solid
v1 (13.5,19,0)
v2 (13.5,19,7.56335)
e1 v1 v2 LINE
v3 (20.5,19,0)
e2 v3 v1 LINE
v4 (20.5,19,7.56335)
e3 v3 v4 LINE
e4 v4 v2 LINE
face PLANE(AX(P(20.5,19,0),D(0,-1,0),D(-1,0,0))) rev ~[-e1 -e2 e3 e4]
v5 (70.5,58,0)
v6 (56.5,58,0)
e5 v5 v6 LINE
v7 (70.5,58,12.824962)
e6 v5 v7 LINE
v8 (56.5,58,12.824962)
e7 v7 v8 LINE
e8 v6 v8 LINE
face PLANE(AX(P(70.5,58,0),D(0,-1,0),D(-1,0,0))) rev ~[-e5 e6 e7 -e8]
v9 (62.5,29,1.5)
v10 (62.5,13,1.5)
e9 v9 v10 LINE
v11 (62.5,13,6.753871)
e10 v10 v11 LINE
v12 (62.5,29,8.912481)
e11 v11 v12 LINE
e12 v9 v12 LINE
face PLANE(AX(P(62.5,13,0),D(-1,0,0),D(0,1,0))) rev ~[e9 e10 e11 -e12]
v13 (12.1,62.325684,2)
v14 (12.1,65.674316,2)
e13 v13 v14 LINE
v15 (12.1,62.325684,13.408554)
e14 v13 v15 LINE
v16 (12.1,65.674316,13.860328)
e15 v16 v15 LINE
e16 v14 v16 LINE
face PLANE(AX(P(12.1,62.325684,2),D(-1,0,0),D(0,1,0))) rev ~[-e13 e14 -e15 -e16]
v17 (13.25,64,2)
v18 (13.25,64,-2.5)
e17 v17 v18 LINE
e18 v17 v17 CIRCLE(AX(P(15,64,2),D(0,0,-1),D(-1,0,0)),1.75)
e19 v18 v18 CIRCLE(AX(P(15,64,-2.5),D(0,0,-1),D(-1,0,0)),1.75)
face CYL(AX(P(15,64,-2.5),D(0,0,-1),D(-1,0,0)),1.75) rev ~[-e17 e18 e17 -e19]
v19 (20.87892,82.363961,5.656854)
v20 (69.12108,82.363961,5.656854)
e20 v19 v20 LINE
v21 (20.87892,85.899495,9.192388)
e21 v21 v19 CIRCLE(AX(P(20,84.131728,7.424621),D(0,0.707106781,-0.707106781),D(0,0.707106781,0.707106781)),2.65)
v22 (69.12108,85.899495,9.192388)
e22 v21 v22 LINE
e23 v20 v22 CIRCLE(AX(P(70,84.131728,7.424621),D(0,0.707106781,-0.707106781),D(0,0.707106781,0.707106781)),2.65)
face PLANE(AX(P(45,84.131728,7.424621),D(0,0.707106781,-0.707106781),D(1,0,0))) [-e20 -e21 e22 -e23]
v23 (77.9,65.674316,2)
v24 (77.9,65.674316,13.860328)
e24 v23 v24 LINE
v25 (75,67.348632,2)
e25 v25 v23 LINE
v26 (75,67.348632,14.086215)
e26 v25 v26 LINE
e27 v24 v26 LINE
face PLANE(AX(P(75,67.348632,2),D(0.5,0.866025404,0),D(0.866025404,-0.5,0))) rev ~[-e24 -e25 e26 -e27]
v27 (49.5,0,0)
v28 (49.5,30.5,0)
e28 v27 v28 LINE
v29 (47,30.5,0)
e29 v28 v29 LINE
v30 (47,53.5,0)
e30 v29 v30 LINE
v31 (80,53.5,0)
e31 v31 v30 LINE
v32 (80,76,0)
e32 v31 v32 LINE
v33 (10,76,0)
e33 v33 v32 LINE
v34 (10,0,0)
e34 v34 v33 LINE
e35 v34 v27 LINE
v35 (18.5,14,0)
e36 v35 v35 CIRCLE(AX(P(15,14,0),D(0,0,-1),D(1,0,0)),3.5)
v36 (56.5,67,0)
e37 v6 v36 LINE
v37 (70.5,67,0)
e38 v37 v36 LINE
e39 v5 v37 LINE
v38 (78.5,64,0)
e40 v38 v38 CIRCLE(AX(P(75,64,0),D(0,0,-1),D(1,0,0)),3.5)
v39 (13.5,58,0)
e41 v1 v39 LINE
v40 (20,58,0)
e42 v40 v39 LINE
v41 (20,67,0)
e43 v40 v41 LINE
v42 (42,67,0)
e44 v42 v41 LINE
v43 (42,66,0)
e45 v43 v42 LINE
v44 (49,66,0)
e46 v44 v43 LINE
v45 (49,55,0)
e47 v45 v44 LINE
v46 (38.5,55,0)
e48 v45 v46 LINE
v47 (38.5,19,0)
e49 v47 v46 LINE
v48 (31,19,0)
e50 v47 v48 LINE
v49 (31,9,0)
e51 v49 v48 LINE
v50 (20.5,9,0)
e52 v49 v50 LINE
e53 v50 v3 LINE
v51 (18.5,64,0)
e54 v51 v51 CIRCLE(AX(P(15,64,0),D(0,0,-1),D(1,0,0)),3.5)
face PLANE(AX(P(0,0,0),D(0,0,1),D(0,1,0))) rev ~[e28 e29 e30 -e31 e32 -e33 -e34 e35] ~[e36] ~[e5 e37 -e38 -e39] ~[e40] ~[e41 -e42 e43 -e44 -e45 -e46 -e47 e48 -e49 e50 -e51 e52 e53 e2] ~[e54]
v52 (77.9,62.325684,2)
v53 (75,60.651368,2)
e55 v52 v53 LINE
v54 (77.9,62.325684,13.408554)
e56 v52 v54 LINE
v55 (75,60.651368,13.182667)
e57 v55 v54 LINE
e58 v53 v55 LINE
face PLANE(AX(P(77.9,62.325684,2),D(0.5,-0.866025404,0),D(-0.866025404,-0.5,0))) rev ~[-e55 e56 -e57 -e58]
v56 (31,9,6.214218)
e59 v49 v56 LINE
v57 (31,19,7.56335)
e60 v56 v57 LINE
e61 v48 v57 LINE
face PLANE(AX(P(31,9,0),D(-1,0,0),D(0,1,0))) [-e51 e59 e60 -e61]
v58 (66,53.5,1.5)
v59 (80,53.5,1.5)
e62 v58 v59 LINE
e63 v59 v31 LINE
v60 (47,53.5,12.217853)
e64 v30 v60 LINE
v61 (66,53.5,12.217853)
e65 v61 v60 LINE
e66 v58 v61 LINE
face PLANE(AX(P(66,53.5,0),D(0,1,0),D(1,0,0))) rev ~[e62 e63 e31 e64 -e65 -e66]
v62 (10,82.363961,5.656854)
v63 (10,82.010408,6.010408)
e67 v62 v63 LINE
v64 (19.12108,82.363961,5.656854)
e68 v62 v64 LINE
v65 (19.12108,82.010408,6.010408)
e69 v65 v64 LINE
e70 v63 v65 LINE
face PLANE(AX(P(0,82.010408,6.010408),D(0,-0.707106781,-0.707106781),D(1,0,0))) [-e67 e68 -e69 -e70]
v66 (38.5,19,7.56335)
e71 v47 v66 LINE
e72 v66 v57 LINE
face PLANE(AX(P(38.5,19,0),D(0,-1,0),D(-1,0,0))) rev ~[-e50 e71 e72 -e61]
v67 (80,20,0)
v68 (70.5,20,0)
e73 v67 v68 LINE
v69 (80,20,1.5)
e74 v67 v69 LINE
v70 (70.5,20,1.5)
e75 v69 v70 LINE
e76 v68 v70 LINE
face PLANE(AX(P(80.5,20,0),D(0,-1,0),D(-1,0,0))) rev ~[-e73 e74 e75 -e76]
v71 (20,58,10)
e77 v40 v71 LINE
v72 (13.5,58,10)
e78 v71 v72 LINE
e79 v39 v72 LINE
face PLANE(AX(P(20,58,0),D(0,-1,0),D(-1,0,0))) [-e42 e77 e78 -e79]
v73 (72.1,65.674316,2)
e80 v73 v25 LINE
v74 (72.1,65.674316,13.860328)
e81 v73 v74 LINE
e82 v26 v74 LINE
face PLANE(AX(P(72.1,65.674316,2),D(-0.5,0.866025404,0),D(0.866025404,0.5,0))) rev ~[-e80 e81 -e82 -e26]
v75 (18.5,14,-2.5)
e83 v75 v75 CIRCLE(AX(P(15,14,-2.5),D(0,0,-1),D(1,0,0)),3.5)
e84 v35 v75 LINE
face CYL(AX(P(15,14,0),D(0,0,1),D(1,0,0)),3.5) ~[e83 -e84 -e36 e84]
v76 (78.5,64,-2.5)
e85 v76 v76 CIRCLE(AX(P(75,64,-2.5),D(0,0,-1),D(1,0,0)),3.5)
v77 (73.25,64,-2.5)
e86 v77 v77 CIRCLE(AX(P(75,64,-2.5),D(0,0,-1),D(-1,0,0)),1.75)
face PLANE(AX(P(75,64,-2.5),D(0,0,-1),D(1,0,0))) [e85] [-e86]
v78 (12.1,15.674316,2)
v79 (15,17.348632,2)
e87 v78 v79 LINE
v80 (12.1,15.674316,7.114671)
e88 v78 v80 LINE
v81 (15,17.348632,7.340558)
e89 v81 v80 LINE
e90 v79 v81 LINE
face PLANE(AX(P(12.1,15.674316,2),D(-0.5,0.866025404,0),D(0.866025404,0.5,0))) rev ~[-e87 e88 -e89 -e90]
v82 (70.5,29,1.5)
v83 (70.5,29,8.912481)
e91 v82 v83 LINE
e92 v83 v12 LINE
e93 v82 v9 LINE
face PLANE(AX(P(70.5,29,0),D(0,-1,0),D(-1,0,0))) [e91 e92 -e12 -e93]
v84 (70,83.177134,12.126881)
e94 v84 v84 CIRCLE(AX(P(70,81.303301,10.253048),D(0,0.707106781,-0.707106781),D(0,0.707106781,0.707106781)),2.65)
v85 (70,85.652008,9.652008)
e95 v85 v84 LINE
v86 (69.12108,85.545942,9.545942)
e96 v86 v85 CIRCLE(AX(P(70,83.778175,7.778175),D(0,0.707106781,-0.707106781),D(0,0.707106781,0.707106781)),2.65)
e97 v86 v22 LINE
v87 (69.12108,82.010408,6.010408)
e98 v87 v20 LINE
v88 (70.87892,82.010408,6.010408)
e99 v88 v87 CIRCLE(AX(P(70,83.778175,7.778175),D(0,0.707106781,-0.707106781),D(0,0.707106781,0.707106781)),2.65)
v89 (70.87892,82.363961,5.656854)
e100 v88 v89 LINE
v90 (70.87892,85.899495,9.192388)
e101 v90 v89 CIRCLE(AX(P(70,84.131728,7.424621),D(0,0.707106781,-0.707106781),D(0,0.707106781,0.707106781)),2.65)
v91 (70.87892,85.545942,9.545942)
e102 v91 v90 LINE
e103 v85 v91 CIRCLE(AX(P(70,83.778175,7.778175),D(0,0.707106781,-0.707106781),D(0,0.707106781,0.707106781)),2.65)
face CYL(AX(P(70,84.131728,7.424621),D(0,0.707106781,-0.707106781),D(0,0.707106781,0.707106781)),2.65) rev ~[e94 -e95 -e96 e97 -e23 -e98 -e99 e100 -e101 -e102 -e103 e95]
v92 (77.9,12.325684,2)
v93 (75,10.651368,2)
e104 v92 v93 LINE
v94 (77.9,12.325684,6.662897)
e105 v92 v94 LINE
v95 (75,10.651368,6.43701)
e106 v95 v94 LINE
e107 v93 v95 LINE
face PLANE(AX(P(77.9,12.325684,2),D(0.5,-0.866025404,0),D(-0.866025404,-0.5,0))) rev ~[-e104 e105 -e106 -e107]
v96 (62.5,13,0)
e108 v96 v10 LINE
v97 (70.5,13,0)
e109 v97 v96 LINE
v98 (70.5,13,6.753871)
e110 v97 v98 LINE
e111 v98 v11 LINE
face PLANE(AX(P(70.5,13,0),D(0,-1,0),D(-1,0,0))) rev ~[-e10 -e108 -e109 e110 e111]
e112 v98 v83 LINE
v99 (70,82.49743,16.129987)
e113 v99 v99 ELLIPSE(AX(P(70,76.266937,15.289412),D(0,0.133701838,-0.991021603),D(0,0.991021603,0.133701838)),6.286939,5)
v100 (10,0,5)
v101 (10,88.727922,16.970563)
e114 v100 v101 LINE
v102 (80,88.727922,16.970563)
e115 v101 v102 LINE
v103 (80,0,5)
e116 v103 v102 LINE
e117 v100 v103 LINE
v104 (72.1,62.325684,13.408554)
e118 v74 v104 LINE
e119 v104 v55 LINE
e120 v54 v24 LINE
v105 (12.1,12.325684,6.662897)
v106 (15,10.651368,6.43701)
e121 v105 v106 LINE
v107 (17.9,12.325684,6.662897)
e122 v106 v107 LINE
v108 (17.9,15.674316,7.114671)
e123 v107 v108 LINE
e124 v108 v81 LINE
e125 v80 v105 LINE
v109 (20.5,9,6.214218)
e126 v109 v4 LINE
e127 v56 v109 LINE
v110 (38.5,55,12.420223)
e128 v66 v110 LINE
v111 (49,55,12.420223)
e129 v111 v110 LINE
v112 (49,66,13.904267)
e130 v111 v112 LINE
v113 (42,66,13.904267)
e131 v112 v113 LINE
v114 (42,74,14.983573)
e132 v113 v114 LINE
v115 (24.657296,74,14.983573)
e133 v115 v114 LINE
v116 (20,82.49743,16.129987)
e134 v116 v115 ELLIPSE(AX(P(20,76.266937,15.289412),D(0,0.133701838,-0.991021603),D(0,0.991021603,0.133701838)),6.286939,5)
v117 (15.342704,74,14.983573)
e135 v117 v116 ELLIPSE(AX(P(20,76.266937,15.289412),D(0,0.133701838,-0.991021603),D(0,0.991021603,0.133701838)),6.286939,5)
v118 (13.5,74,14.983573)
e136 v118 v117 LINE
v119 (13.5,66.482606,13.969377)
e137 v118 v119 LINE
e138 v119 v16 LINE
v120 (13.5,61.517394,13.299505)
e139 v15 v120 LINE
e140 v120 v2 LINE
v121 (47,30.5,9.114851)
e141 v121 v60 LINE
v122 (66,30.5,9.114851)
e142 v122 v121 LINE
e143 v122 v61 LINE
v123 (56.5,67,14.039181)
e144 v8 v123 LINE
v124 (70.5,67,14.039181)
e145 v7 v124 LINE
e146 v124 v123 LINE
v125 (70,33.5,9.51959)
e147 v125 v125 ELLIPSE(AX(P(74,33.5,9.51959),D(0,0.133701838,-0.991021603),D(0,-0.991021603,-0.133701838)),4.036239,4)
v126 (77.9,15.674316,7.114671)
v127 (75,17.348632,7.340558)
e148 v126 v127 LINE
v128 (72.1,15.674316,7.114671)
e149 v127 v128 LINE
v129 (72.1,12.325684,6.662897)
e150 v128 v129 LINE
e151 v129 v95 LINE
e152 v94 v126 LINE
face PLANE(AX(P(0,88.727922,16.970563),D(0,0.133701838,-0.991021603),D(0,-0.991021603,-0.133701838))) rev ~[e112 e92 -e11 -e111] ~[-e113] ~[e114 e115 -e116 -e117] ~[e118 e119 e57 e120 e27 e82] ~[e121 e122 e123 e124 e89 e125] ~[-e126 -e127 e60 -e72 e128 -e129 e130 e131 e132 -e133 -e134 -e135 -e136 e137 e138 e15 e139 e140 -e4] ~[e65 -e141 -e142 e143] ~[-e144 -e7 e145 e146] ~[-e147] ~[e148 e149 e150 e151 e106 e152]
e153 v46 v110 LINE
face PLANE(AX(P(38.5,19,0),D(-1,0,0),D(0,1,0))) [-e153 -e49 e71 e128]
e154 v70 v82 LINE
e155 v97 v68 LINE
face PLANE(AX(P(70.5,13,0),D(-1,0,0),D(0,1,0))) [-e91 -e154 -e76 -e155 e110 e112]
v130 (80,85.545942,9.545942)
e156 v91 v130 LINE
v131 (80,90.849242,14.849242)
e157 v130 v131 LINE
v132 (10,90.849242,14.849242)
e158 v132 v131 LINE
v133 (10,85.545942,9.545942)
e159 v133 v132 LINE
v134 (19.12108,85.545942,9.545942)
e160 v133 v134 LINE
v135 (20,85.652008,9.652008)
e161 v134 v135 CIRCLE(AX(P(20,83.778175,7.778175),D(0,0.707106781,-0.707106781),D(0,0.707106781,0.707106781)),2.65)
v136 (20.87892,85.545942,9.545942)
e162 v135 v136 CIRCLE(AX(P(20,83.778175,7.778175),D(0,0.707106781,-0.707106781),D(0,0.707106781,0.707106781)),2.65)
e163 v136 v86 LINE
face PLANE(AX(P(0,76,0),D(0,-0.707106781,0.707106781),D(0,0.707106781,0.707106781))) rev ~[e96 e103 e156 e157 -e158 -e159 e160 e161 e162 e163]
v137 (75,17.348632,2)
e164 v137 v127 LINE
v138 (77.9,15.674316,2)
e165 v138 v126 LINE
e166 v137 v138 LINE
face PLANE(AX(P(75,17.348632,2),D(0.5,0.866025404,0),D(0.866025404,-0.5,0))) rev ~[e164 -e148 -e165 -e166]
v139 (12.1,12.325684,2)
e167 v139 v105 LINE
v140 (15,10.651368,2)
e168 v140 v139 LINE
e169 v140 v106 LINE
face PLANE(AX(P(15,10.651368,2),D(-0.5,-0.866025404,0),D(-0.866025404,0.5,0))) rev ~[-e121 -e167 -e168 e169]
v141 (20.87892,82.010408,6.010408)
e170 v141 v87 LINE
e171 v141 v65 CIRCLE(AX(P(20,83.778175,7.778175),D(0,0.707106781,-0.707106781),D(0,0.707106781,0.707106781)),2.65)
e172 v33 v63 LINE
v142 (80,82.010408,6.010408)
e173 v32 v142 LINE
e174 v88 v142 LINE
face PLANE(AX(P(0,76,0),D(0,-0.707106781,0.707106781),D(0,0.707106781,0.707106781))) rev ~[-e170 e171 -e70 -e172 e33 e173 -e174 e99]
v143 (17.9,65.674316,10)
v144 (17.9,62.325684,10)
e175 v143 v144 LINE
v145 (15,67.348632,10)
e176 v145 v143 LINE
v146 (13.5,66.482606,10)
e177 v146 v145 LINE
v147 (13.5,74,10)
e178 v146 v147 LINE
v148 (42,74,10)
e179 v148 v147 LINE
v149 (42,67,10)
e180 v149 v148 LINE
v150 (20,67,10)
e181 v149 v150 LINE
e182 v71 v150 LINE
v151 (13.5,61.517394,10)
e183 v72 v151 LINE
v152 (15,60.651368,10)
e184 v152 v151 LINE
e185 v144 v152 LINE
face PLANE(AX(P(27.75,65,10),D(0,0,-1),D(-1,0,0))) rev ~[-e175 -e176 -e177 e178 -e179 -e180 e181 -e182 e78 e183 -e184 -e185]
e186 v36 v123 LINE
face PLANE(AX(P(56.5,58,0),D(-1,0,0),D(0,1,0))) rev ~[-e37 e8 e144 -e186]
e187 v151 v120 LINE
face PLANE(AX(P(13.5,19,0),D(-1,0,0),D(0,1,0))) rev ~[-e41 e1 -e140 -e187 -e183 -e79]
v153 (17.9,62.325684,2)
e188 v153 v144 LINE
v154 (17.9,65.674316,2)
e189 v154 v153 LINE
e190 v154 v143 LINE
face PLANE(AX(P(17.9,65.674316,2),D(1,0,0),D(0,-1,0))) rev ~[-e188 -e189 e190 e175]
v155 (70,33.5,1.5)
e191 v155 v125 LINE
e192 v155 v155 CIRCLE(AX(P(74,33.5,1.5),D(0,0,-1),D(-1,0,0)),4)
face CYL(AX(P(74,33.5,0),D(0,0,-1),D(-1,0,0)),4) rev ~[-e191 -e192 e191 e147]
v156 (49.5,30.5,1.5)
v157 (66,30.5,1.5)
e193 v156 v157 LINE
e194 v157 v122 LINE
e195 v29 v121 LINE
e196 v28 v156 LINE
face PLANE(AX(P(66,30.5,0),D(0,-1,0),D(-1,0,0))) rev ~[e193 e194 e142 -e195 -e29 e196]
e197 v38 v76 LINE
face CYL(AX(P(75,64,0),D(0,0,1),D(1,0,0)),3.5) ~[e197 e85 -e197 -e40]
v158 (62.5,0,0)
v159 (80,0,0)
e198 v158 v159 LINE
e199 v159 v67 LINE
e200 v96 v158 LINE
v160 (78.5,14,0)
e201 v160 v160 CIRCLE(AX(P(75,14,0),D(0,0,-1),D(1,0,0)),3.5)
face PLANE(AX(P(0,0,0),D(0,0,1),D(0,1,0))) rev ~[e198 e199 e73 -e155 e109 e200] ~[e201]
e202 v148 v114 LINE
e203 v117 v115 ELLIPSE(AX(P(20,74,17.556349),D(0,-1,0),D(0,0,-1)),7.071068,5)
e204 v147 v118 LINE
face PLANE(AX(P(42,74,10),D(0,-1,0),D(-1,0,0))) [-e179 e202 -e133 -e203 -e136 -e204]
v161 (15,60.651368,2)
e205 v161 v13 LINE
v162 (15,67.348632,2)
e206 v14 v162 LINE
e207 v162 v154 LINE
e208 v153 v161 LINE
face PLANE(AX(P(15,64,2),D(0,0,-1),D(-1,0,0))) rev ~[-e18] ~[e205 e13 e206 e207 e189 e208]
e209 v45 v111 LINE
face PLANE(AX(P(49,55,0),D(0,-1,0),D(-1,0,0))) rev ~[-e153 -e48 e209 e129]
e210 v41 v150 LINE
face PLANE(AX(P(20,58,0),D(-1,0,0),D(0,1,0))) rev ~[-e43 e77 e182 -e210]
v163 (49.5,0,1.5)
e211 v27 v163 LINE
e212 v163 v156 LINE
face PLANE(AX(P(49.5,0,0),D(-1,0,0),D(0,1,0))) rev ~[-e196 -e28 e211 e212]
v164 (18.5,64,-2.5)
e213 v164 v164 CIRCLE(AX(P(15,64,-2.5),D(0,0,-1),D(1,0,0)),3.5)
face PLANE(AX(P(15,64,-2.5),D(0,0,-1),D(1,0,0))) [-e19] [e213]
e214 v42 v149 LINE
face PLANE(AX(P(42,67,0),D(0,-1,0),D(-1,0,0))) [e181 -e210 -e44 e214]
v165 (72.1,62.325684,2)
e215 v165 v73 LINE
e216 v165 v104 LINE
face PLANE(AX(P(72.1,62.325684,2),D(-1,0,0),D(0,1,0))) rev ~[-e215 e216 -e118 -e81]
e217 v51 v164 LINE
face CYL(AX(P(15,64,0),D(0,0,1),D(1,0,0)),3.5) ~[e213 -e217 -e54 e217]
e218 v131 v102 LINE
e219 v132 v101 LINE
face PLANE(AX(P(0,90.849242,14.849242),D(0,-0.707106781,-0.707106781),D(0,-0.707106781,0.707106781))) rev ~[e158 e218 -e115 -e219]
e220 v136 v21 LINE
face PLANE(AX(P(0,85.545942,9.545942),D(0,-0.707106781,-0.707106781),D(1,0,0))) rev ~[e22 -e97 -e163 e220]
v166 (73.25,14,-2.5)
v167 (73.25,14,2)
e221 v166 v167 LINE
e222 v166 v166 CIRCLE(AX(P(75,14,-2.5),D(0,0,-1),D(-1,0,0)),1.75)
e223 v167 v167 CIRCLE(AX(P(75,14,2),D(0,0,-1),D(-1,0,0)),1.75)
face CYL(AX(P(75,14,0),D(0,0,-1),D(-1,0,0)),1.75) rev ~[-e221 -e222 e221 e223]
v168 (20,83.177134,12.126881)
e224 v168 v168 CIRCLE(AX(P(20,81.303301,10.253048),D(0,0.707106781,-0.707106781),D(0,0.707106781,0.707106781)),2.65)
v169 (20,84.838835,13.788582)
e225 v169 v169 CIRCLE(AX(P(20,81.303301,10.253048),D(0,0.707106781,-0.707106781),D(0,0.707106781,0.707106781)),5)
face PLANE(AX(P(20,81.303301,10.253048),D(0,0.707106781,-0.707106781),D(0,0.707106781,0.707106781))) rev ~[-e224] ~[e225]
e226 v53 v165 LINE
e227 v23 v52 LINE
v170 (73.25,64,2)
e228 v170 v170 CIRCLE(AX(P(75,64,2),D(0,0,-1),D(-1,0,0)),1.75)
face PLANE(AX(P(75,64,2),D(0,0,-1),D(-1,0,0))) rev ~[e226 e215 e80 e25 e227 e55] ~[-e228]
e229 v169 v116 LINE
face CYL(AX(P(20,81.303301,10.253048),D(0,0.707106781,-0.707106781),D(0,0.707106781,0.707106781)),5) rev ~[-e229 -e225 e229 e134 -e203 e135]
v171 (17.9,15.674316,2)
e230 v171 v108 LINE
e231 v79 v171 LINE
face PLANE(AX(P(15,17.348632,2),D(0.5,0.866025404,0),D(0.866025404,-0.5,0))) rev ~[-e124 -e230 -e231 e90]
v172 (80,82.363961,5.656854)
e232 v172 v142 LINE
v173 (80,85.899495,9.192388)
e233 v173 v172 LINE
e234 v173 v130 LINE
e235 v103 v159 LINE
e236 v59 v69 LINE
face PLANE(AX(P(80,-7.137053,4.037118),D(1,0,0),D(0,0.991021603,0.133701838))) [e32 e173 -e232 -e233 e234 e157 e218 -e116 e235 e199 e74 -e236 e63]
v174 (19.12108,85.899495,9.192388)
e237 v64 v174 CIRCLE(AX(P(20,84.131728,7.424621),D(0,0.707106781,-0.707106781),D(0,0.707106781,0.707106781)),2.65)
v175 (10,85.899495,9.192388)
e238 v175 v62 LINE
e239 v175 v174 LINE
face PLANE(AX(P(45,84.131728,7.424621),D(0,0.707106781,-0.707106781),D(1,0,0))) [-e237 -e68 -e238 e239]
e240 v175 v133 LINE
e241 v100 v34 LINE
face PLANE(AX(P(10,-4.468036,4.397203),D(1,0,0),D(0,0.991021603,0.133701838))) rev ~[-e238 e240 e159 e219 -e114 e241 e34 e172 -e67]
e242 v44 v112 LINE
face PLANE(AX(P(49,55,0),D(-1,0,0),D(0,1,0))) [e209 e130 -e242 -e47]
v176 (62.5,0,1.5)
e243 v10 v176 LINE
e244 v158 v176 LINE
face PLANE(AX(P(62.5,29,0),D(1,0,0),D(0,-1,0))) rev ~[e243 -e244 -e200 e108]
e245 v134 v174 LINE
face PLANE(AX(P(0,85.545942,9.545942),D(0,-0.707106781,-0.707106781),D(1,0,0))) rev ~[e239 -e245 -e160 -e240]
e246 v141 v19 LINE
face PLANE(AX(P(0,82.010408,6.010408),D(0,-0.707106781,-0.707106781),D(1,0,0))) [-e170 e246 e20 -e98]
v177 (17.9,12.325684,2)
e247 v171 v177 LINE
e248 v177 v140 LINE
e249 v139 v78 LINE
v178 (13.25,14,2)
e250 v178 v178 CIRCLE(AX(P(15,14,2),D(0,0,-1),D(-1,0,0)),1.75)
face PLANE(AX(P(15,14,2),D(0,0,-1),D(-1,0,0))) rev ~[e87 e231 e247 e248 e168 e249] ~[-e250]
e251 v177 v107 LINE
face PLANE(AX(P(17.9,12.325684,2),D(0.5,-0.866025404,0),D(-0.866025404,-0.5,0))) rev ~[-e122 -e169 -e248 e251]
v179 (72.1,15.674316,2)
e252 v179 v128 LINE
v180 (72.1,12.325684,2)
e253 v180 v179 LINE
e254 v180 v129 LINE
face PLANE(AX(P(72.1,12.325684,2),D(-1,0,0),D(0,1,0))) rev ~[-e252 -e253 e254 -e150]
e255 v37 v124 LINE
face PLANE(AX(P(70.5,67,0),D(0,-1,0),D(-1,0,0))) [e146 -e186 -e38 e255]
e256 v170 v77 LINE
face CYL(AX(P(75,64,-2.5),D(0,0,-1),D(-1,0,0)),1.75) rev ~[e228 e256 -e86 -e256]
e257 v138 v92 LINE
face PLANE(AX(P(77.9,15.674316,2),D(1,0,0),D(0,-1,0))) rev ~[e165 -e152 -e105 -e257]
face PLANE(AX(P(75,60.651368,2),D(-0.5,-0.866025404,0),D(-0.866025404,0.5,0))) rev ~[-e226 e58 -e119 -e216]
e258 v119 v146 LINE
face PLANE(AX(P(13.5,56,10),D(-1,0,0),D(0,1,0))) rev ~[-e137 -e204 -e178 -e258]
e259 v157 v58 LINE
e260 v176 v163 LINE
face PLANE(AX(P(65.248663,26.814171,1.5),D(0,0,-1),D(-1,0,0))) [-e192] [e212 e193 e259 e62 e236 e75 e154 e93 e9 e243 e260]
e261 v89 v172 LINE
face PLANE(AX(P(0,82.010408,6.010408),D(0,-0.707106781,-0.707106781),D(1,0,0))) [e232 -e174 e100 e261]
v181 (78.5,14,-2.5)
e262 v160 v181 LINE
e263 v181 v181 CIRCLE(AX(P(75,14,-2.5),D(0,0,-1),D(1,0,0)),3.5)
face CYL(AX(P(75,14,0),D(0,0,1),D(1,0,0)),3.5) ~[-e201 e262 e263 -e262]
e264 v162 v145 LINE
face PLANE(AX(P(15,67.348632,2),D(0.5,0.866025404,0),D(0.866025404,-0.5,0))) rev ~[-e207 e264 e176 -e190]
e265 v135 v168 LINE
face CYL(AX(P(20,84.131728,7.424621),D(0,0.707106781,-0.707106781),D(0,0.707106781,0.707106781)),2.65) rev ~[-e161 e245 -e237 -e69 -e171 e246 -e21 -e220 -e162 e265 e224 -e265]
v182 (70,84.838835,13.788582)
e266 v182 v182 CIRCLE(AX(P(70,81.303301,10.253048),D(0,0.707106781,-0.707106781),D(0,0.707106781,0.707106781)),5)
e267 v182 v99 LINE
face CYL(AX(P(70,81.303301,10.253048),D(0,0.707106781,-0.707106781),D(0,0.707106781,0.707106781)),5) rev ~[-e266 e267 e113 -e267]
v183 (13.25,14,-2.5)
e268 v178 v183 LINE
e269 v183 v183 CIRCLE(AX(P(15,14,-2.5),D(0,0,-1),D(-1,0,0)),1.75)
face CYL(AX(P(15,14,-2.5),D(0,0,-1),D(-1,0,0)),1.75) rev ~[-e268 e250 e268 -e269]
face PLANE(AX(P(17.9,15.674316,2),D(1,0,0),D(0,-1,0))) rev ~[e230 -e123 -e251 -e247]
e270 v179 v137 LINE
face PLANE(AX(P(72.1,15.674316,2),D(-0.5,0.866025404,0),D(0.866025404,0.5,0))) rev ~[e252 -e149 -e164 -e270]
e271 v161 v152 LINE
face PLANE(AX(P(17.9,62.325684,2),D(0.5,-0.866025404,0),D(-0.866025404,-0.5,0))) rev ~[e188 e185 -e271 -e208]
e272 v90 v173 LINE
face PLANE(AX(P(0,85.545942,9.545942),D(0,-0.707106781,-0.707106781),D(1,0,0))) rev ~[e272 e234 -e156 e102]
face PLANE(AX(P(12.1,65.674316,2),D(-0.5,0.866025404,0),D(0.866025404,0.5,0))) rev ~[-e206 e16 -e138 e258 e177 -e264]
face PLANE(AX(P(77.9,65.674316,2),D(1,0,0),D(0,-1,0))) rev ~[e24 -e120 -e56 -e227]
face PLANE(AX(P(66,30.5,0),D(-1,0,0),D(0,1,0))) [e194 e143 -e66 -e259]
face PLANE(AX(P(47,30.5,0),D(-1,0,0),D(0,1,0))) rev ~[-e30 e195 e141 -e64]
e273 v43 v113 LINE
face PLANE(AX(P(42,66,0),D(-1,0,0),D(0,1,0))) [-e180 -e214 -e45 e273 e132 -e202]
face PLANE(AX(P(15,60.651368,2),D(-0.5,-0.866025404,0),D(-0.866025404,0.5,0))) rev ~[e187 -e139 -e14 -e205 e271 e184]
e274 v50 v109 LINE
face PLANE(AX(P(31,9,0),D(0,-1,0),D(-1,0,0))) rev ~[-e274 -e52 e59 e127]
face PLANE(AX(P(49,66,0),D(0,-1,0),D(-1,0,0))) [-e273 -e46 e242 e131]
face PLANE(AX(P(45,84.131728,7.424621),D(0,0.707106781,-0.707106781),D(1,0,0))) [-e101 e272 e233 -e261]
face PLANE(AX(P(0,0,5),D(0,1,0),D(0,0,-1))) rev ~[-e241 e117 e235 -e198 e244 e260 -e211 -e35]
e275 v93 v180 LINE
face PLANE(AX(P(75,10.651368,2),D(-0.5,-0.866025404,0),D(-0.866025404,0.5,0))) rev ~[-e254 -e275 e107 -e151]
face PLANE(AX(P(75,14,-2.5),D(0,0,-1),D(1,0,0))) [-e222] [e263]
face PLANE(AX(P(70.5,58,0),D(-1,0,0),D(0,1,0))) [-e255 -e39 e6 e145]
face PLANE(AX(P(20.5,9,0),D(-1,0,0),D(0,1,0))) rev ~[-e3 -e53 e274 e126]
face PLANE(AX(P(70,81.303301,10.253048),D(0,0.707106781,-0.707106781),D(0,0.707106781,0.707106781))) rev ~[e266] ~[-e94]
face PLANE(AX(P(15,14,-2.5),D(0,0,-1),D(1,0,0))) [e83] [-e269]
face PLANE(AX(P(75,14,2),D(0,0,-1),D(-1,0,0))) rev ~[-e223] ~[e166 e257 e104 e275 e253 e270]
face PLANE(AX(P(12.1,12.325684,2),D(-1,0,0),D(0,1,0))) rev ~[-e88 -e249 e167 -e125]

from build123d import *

# Parameters (mm, degrees)
EXTRUDE_1_DEPTH     = 90
SKETCH_2_R          = 1.75
CUT_EXTRUDE_1_DEPTH = 130.002266823
SKETCH_3_R          = 4
SKETCH_3_W          = 25
SKETCH_3_H          = 39
SKETCH_3_W_2        = 10.5
SKETCH_3_H_2        = 10
SKETCH_3_W_3        = 22
SKETCH_3_H_3        = 11
SKETCH_3_W_4        = 11
SKETCH_3_W_5        = 14
SKETCH_3_H_4        = 9
SKETCH_3_W_6        = 9.5
SKETCH_3_H_5        = 42
SKETCH_3_W_7        = 8
SKETCH_3_H_6        = 16
SKETCH_3_W_8        = 19
SKETCH_3_H_7        = 23
CUT_EXTRUDE_2_DEPTH = 130.002266823
CUT_EXTRUDE_3_REACH = 133.002
CUT_EXTRUDE_START   = -2
CUT_EXTRUDE_4_DEPTH = 1.5
SKETCH_6_W          = 90
SKETCH_6_H          = 5
EXTRUDE_2_DEPTH     = 0.5
SKETCH_7_R          = 2.65
CUT_EXTRUDE_5_DEPTH = 118.968449984
CUT_EXTRUDE_6_REACH = 123.968
CUT_EXTRUDE_START_2 = -4
SKETCH_8_R          = 5
SKETCH_9_R          = 3.5
EXTRUDE_3_DEPTH     = 2.5
SKETCH_10_R         = 1.75
CUT_EXTRUDE_7_DEPTH = 130.354890357
CUT_EXTRUDE_8_REACH = 141.002
CUT_EXTRUDE_START_3 = -10
SKETCH_11_W         = 28.5
SKETCH_11_H         = 18
SKETCH_12_W         = 10
SKETCH_12_H         = 98.345155262
SKETCH_12_H_2       = 101.038352977
CUT_EXTRUDE_9_DEPTH = 129.917968218


with BuildPart() as part:
    # 草图1 → 凸台-拉伸1 (new body)
    with BuildSketch(Plane(origin=(0, 0, 0), x_dir=(0, 0, -1), z_dir=(1, 0, 0))):
        Polygon((0, 0), (0, 76), (-14.849242405, 90.849242405), (-16.970562748, 88.727922061), (-5, 0), align=None)
    extrude(amount=EXTRUDE_1_DEPTH)

    # 草图2 → 切除-拉伸1 (cut, through all)
    with BuildSketch(Plane(origin=(0, 0, 0), x_dir=(-1, 0, 0), z_dir=(0, 0, -1))):
        with Locations((-75, 64)):
            Circle(SKETCH_2_R)
        with Locations((-15, 64)):
            Circle(SKETCH_2_R)
        with Locations((-15, 14)):
            Circle(SKETCH_2_R)
        with Locations((-75, 14)):
            Circle(SKETCH_2_R)
    extrude(amount=-CUT_EXTRUDE_1_DEPTH, mode=Mode.SUBTRACT)

    # 草图3 → 切除-拉伸2 (cut, through all)
    with BuildSketch(Plane(origin=(0, 0, 0), x_dir=(-1, 0, 0), z_dir=(0, 0, -1))):
        with Locations((-74, 33.5)):
            Circle(SKETCH_3_R)
        with Locations((-26, 38.5)):
            Rectangle(SKETCH_3_W, SKETCH_3_H)
        with Locations((-25.75, 14)):
            Rectangle(SKETCH_3_W_2, SKETCH_3_H_2)
        with Locations((-31, 61.5)):
            Rectangle(SKETCH_3_W_3, SKETCH_3_H_3)
        with Locations((-43.5, 60.5)):
            Rectangle(SKETCH_3_W_4, SKETCH_3_H_3)
        with Locations((-63.5, 62.5)):
            Rectangle(SKETCH_3_W_5, SKETCH_3_H_4)
        with Locations((-85.25, 34)):
            Rectangle(SKETCH_3_W_6, SKETCH_3_H_5)
        with Locations((-66.5, 21)):
            Rectangle(SKETCH_3_W_7, SKETCH_3_H_6)
        with Locations((-56.5, 42)):
            Rectangle(SKETCH_3_W_8, SKETCH_3_H_7)
    extrude(amount=-CUT_EXTRUDE_2_DEPTH, mode=Mode.SUBTRACT)

    # 切除-拉伸3: up to this plane
    cut_extrude_3_end = Plane(origin=(90, 88.727922061, 16.970562748), z_dir=(0, 0.13370183830700452, -0.9910216034140364))
    # 草图4 → 切除-拉伸3 (cut, up to the surface)
    with BuildSketch(Plane(origin=(0, 0, 0), x_dir=(-1, 0, 0), z_dir=(0, 0, -1)).offset(CUT_EXTRUDE_START), mode=Mode.PRIVATE) as cut_extrude_3_sk1:
        Polygon((-75, 60.651368439), (-72.1, 62.325684219), (-72.1, 65.674315781), (-75, 67.348631561), (-77.9, 65.674315781), (-77.9, 62.325684219), align=None)
    cut_extrude_3_tool1 = split(extrude(cut_extrude_3_sk1.sketch, amount=-CUT_EXTRUDE_3_REACH, mode=Mode.PRIVATE), bisect_by=cut_extrude_3_end, keep=Keep.BOTH, mode=Mode.PRIVATE)
    add(cut_extrude_3_tool1.solids().sort_by_distance((75, 64, 2))[0], mode=Mode.SUBTRACT)
    # 草图4 → 切除-拉伸3 (cut, up to the surface)
    with BuildSketch(Plane(origin=(0, 0, 0), x_dir=(-1, 0, 0), z_dir=(0, 0, -1)).offset(CUT_EXTRUDE_START), mode=Mode.PRIVATE) as cut_extrude_3_sk2:
        Polygon((-15, 60.651368439), (-12.1, 62.325684219), (-12.1, 65.674315781), (-15, 67.348631561), (-17.9, 65.674315781), (-17.9, 62.325684219), align=None)
    cut_extrude_3_tool2 = split(extrude(cut_extrude_3_sk2.sketch, amount=-CUT_EXTRUDE_3_REACH, mode=Mode.PRIVATE), bisect_by=cut_extrude_3_end, keep=Keep.BOTH, mode=Mode.PRIVATE)
    add(cut_extrude_3_tool2.solids().sort_by_distance((15, 64, 2))[0], mode=Mode.SUBTRACT)
    # 草图4 → 切除-拉伸3 (cut, up to the surface)
    with BuildSketch(Plane(origin=(0, 0, 0), x_dir=(-1, 0, 0), z_dir=(0, 0, -1)).offset(CUT_EXTRUDE_START), mode=Mode.PRIVATE) as cut_extrude_3_sk3:
        Polygon((-15, 10.651368439), (-12.1, 12.325684219), (-12.1, 15.674315781), (-15, 17.348631561), (-17.9, 15.674315781), (-17.9, 12.325684219), align=None)
    cut_extrude_3_tool3 = split(extrude(cut_extrude_3_sk3.sketch, amount=-CUT_EXTRUDE_3_REACH, mode=Mode.PRIVATE), bisect_by=cut_extrude_3_end, keep=Keep.BOTH, mode=Mode.PRIVATE)
    add(cut_extrude_3_tool3.solids().sort_by_distance((15, 14, 2))[0], mode=Mode.SUBTRACT)
    # 草图4 → 切除-拉伸3 (cut, up to the surface)
    with BuildSketch(Plane(origin=(0, 0, 0), x_dir=(-1, 0, 0), z_dir=(0, 0, -1)).offset(CUT_EXTRUDE_START), mode=Mode.PRIVATE) as cut_extrude_3_sk4:
        Polygon((-75, 10.651368439), (-72.1, 12.325684219), (-72.1, 15.674315781), (-75, 17.348631561), (-77.9, 15.674315781), (-77.9, 12.325684219), align=None)
    cut_extrude_3_tool4 = split(extrude(cut_extrude_3_sk4.sketch, amount=-CUT_EXTRUDE_3_REACH, mode=Mode.PRIVATE), bisect_by=cut_extrude_3_end, keep=Keep.BOTH, mode=Mode.PRIVATE)
    add(cut_extrude_3_tool4.solids().sort_by_distance((75, 14, 2))[0], mode=Mode.SUBTRACT)

    # 草图5 → 切除-拉伸4 (cut)
    with BuildSketch(Plane(origin=(0, 0, 0), x_dir=(-1, 0, 0), z_dir=(0, 0, -1))):
        Polygon((-70.5, 20), (-70.5, 29), (-62.5, 29), (-62.5, 0), (-49.5, 0), (-49.5, 30.5), (-66, 30.5), (-66, 53.5), (-80.5, 53.5), (-80.5, 20), align=None)
    extrude(amount=-CUT_EXTRUDE_4_DEPTH, mode=Mode.SUBTRACT)

    # 草图6 → 凸台-拉伸2 (add)
    with BuildSketch(Plane(origin=(0, 38, -38), x_dir=(1, 0, 0), z_dir=(0, 0.7071067811865482, -0.7071067811865468))):
        with Locations((45, -64.74011537)):
            Rectangle(SKETCH_6_W, SKETCH_6_H)
    extrude(amount=EXTRUDE_2_DEPTH)

    # 草图7 → 切除-拉伸5 (cut, through all)
    with BuildSketch(Plane(origin=(0, 38.353553391, -38.353553391), x_dir=(1, 0, 0), z_dir=(0, 0.7071067811865489, -0.7071067811865461))):
        with Locations(Location((20, -64.74011537, 0), (0, 0, 270))):
            Circle(SKETCH_7_R)
        with Locations(Location((70, -64.74011537, 0), (0, 0, 270))):
            Circle(SKETCH_7_R)
    extrude(amount=-CUT_EXTRUDE_5_DEPTH, mode=Mode.SUBTRACT)

    # 切除-拉伸6: up to this plane
    cut_extrude_6_end = Plane(origin=(90, 88.727922061, 16.970562748), z_dir=(0, 0.13370183830700452, -0.9910216034140364))
    # 草图8 → 切除-拉伸6 (cut, up to the surface)
    with BuildSketch(Plane(origin=(0, 38.353553391, -38.353553391), x_dir=(1, 0, 0), z_dir=(0, 0.7071067811865489, -0.7071067811865461)).offset(CUT_EXTRUDE_START_2), mode=Mode.PRIVATE) as cut_extrude_6_sk1:
        with Locations(Location((20, -64.74011537, 0), (0, 0, 270))):
            Circle(SKETCH_8_R)
    cut_extrude_6_tool1 = split(extrude(cut_extrude_6_sk1.sketch, amount=-CUT_EXTRUDE_6_REACH, mode=Mode.PRIVATE), bisect_by=cut_extrude_6_end, keep=Keep.BOTH, mode=Mode.PRIVATE)
    add(cut_extrude_6_tool1.solids().sort_by_distance((20, 81.303301, 10.253048))[0], mode=Mode.SUBTRACT)
    # 草图8 → 切除-拉伸6 (cut, up to the surface)
    with BuildSketch(Plane(origin=(0, 38.353553391, -38.353553391), x_dir=(1, 0, 0), z_dir=(0, 0.7071067811865489, -0.7071067811865461)).offset(CUT_EXTRUDE_START_2), mode=Mode.PRIVATE) as cut_extrude_6_sk2:
        with Locations(Location((70, -64.74011537, 0), (0, 0, 270))):
            Circle(SKETCH_8_R)
    cut_extrude_6_tool2 = split(extrude(cut_extrude_6_sk2.sketch, amount=-CUT_EXTRUDE_6_REACH, mode=Mode.PRIVATE), bisect_by=cut_extrude_6_end, keep=Keep.BOTH, mode=Mode.PRIVATE)
    add(cut_extrude_6_tool2.solids().sort_by_distance((70, 81.303301, 10.253048))[0], mode=Mode.SUBTRACT)

    # 草图9 → 凸台-拉伸3 (add)
    with BuildSketch(Plane(origin=(0, 0, 0), x_dir=(-1, 0, 0), z_dir=(0, 0, -1))):
        with Locations(Location((-75, 64, 0), (0, 0, 180))):
            Circle(SKETCH_9_R)
        with Locations(Location((-15, 64, 0), (0, 0, 180))):
            Circle(SKETCH_9_R)
        with Locations(Location((-15, 14, 0), (0, 0, 180))):
            Circle(SKETCH_9_R)
        with Locations(Location((-75, 14, 0), (0, 0, 180))):
            Circle(SKETCH_9_R)
    extrude(amount=EXTRUDE_3_DEPTH)

    # 草图10 → 切除-拉伸7 (cut, through all)
    with BuildSketch(Plane(origin=(0, 0, -2.5), x_dir=(-1, 0, 0), z_dir=(0, 0, -1))):
        with Locations((-75, 14)):
            Circle(SKETCH_10_R)
        with Locations((-15, 14)):
            Circle(SKETCH_10_R)
        with Locations((-15, 64)):
            Circle(SKETCH_10_R)
        with Locations((-75, 64)):
            Circle(SKETCH_10_R)
    extrude(amount=-CUT_EXTRUDE_7_DEPTH, mode=Mode.SUBTRACT)

    # 草图11 → 切除-拉伸8 (cut, up to next)
    with BuildSketch(Plane(origin=(0, 0, 0), x_dir=(-1, 0, 0), z_dir=(0, 0, -1)).offset(CUT_EXTRUDE_START_3), mode=Mode.PRIVATE) as cut_extrude_8_sk1:
        with Locations((-27.75, 65)):
            Rectangle(SKETCH_11_W, SKETCH_11_H)
    cut_extrude_8_tool1 = extrude(cut_extrude_8_sk1.sketch, amount=-CUT_EXTRUDE_8_REACH, mode=Mode.PRIVATE) & part.part
    add(cut_extrude_8_tool1.solids().sort_by_distance((27.75, 65, 10))[0], mode=Mode.SUBTRACT)

    # 草图12 → 切除-拉伸9 (cut, through all)
    with BuildSketch(Plane(origin=(0, -0.662507051, 4.910619092), x_dir=(1, 0, 0), z_dir=(0, -0.13370183830700455, 0.9910216034140364))):
        with Locations((5, 45.332571267)):
            Rectangle(SKETCH_12_W, SKETCH_12_H)
        with Locations((85, 43.98597241)):
            Rectangle(SKETCH_12_W, SKETCH_12_H_2)
    extrude(amount=-CUT_EXTRUDE_9_DEPTH, mode=Mode.SUBTRACT)


solid = part.part
